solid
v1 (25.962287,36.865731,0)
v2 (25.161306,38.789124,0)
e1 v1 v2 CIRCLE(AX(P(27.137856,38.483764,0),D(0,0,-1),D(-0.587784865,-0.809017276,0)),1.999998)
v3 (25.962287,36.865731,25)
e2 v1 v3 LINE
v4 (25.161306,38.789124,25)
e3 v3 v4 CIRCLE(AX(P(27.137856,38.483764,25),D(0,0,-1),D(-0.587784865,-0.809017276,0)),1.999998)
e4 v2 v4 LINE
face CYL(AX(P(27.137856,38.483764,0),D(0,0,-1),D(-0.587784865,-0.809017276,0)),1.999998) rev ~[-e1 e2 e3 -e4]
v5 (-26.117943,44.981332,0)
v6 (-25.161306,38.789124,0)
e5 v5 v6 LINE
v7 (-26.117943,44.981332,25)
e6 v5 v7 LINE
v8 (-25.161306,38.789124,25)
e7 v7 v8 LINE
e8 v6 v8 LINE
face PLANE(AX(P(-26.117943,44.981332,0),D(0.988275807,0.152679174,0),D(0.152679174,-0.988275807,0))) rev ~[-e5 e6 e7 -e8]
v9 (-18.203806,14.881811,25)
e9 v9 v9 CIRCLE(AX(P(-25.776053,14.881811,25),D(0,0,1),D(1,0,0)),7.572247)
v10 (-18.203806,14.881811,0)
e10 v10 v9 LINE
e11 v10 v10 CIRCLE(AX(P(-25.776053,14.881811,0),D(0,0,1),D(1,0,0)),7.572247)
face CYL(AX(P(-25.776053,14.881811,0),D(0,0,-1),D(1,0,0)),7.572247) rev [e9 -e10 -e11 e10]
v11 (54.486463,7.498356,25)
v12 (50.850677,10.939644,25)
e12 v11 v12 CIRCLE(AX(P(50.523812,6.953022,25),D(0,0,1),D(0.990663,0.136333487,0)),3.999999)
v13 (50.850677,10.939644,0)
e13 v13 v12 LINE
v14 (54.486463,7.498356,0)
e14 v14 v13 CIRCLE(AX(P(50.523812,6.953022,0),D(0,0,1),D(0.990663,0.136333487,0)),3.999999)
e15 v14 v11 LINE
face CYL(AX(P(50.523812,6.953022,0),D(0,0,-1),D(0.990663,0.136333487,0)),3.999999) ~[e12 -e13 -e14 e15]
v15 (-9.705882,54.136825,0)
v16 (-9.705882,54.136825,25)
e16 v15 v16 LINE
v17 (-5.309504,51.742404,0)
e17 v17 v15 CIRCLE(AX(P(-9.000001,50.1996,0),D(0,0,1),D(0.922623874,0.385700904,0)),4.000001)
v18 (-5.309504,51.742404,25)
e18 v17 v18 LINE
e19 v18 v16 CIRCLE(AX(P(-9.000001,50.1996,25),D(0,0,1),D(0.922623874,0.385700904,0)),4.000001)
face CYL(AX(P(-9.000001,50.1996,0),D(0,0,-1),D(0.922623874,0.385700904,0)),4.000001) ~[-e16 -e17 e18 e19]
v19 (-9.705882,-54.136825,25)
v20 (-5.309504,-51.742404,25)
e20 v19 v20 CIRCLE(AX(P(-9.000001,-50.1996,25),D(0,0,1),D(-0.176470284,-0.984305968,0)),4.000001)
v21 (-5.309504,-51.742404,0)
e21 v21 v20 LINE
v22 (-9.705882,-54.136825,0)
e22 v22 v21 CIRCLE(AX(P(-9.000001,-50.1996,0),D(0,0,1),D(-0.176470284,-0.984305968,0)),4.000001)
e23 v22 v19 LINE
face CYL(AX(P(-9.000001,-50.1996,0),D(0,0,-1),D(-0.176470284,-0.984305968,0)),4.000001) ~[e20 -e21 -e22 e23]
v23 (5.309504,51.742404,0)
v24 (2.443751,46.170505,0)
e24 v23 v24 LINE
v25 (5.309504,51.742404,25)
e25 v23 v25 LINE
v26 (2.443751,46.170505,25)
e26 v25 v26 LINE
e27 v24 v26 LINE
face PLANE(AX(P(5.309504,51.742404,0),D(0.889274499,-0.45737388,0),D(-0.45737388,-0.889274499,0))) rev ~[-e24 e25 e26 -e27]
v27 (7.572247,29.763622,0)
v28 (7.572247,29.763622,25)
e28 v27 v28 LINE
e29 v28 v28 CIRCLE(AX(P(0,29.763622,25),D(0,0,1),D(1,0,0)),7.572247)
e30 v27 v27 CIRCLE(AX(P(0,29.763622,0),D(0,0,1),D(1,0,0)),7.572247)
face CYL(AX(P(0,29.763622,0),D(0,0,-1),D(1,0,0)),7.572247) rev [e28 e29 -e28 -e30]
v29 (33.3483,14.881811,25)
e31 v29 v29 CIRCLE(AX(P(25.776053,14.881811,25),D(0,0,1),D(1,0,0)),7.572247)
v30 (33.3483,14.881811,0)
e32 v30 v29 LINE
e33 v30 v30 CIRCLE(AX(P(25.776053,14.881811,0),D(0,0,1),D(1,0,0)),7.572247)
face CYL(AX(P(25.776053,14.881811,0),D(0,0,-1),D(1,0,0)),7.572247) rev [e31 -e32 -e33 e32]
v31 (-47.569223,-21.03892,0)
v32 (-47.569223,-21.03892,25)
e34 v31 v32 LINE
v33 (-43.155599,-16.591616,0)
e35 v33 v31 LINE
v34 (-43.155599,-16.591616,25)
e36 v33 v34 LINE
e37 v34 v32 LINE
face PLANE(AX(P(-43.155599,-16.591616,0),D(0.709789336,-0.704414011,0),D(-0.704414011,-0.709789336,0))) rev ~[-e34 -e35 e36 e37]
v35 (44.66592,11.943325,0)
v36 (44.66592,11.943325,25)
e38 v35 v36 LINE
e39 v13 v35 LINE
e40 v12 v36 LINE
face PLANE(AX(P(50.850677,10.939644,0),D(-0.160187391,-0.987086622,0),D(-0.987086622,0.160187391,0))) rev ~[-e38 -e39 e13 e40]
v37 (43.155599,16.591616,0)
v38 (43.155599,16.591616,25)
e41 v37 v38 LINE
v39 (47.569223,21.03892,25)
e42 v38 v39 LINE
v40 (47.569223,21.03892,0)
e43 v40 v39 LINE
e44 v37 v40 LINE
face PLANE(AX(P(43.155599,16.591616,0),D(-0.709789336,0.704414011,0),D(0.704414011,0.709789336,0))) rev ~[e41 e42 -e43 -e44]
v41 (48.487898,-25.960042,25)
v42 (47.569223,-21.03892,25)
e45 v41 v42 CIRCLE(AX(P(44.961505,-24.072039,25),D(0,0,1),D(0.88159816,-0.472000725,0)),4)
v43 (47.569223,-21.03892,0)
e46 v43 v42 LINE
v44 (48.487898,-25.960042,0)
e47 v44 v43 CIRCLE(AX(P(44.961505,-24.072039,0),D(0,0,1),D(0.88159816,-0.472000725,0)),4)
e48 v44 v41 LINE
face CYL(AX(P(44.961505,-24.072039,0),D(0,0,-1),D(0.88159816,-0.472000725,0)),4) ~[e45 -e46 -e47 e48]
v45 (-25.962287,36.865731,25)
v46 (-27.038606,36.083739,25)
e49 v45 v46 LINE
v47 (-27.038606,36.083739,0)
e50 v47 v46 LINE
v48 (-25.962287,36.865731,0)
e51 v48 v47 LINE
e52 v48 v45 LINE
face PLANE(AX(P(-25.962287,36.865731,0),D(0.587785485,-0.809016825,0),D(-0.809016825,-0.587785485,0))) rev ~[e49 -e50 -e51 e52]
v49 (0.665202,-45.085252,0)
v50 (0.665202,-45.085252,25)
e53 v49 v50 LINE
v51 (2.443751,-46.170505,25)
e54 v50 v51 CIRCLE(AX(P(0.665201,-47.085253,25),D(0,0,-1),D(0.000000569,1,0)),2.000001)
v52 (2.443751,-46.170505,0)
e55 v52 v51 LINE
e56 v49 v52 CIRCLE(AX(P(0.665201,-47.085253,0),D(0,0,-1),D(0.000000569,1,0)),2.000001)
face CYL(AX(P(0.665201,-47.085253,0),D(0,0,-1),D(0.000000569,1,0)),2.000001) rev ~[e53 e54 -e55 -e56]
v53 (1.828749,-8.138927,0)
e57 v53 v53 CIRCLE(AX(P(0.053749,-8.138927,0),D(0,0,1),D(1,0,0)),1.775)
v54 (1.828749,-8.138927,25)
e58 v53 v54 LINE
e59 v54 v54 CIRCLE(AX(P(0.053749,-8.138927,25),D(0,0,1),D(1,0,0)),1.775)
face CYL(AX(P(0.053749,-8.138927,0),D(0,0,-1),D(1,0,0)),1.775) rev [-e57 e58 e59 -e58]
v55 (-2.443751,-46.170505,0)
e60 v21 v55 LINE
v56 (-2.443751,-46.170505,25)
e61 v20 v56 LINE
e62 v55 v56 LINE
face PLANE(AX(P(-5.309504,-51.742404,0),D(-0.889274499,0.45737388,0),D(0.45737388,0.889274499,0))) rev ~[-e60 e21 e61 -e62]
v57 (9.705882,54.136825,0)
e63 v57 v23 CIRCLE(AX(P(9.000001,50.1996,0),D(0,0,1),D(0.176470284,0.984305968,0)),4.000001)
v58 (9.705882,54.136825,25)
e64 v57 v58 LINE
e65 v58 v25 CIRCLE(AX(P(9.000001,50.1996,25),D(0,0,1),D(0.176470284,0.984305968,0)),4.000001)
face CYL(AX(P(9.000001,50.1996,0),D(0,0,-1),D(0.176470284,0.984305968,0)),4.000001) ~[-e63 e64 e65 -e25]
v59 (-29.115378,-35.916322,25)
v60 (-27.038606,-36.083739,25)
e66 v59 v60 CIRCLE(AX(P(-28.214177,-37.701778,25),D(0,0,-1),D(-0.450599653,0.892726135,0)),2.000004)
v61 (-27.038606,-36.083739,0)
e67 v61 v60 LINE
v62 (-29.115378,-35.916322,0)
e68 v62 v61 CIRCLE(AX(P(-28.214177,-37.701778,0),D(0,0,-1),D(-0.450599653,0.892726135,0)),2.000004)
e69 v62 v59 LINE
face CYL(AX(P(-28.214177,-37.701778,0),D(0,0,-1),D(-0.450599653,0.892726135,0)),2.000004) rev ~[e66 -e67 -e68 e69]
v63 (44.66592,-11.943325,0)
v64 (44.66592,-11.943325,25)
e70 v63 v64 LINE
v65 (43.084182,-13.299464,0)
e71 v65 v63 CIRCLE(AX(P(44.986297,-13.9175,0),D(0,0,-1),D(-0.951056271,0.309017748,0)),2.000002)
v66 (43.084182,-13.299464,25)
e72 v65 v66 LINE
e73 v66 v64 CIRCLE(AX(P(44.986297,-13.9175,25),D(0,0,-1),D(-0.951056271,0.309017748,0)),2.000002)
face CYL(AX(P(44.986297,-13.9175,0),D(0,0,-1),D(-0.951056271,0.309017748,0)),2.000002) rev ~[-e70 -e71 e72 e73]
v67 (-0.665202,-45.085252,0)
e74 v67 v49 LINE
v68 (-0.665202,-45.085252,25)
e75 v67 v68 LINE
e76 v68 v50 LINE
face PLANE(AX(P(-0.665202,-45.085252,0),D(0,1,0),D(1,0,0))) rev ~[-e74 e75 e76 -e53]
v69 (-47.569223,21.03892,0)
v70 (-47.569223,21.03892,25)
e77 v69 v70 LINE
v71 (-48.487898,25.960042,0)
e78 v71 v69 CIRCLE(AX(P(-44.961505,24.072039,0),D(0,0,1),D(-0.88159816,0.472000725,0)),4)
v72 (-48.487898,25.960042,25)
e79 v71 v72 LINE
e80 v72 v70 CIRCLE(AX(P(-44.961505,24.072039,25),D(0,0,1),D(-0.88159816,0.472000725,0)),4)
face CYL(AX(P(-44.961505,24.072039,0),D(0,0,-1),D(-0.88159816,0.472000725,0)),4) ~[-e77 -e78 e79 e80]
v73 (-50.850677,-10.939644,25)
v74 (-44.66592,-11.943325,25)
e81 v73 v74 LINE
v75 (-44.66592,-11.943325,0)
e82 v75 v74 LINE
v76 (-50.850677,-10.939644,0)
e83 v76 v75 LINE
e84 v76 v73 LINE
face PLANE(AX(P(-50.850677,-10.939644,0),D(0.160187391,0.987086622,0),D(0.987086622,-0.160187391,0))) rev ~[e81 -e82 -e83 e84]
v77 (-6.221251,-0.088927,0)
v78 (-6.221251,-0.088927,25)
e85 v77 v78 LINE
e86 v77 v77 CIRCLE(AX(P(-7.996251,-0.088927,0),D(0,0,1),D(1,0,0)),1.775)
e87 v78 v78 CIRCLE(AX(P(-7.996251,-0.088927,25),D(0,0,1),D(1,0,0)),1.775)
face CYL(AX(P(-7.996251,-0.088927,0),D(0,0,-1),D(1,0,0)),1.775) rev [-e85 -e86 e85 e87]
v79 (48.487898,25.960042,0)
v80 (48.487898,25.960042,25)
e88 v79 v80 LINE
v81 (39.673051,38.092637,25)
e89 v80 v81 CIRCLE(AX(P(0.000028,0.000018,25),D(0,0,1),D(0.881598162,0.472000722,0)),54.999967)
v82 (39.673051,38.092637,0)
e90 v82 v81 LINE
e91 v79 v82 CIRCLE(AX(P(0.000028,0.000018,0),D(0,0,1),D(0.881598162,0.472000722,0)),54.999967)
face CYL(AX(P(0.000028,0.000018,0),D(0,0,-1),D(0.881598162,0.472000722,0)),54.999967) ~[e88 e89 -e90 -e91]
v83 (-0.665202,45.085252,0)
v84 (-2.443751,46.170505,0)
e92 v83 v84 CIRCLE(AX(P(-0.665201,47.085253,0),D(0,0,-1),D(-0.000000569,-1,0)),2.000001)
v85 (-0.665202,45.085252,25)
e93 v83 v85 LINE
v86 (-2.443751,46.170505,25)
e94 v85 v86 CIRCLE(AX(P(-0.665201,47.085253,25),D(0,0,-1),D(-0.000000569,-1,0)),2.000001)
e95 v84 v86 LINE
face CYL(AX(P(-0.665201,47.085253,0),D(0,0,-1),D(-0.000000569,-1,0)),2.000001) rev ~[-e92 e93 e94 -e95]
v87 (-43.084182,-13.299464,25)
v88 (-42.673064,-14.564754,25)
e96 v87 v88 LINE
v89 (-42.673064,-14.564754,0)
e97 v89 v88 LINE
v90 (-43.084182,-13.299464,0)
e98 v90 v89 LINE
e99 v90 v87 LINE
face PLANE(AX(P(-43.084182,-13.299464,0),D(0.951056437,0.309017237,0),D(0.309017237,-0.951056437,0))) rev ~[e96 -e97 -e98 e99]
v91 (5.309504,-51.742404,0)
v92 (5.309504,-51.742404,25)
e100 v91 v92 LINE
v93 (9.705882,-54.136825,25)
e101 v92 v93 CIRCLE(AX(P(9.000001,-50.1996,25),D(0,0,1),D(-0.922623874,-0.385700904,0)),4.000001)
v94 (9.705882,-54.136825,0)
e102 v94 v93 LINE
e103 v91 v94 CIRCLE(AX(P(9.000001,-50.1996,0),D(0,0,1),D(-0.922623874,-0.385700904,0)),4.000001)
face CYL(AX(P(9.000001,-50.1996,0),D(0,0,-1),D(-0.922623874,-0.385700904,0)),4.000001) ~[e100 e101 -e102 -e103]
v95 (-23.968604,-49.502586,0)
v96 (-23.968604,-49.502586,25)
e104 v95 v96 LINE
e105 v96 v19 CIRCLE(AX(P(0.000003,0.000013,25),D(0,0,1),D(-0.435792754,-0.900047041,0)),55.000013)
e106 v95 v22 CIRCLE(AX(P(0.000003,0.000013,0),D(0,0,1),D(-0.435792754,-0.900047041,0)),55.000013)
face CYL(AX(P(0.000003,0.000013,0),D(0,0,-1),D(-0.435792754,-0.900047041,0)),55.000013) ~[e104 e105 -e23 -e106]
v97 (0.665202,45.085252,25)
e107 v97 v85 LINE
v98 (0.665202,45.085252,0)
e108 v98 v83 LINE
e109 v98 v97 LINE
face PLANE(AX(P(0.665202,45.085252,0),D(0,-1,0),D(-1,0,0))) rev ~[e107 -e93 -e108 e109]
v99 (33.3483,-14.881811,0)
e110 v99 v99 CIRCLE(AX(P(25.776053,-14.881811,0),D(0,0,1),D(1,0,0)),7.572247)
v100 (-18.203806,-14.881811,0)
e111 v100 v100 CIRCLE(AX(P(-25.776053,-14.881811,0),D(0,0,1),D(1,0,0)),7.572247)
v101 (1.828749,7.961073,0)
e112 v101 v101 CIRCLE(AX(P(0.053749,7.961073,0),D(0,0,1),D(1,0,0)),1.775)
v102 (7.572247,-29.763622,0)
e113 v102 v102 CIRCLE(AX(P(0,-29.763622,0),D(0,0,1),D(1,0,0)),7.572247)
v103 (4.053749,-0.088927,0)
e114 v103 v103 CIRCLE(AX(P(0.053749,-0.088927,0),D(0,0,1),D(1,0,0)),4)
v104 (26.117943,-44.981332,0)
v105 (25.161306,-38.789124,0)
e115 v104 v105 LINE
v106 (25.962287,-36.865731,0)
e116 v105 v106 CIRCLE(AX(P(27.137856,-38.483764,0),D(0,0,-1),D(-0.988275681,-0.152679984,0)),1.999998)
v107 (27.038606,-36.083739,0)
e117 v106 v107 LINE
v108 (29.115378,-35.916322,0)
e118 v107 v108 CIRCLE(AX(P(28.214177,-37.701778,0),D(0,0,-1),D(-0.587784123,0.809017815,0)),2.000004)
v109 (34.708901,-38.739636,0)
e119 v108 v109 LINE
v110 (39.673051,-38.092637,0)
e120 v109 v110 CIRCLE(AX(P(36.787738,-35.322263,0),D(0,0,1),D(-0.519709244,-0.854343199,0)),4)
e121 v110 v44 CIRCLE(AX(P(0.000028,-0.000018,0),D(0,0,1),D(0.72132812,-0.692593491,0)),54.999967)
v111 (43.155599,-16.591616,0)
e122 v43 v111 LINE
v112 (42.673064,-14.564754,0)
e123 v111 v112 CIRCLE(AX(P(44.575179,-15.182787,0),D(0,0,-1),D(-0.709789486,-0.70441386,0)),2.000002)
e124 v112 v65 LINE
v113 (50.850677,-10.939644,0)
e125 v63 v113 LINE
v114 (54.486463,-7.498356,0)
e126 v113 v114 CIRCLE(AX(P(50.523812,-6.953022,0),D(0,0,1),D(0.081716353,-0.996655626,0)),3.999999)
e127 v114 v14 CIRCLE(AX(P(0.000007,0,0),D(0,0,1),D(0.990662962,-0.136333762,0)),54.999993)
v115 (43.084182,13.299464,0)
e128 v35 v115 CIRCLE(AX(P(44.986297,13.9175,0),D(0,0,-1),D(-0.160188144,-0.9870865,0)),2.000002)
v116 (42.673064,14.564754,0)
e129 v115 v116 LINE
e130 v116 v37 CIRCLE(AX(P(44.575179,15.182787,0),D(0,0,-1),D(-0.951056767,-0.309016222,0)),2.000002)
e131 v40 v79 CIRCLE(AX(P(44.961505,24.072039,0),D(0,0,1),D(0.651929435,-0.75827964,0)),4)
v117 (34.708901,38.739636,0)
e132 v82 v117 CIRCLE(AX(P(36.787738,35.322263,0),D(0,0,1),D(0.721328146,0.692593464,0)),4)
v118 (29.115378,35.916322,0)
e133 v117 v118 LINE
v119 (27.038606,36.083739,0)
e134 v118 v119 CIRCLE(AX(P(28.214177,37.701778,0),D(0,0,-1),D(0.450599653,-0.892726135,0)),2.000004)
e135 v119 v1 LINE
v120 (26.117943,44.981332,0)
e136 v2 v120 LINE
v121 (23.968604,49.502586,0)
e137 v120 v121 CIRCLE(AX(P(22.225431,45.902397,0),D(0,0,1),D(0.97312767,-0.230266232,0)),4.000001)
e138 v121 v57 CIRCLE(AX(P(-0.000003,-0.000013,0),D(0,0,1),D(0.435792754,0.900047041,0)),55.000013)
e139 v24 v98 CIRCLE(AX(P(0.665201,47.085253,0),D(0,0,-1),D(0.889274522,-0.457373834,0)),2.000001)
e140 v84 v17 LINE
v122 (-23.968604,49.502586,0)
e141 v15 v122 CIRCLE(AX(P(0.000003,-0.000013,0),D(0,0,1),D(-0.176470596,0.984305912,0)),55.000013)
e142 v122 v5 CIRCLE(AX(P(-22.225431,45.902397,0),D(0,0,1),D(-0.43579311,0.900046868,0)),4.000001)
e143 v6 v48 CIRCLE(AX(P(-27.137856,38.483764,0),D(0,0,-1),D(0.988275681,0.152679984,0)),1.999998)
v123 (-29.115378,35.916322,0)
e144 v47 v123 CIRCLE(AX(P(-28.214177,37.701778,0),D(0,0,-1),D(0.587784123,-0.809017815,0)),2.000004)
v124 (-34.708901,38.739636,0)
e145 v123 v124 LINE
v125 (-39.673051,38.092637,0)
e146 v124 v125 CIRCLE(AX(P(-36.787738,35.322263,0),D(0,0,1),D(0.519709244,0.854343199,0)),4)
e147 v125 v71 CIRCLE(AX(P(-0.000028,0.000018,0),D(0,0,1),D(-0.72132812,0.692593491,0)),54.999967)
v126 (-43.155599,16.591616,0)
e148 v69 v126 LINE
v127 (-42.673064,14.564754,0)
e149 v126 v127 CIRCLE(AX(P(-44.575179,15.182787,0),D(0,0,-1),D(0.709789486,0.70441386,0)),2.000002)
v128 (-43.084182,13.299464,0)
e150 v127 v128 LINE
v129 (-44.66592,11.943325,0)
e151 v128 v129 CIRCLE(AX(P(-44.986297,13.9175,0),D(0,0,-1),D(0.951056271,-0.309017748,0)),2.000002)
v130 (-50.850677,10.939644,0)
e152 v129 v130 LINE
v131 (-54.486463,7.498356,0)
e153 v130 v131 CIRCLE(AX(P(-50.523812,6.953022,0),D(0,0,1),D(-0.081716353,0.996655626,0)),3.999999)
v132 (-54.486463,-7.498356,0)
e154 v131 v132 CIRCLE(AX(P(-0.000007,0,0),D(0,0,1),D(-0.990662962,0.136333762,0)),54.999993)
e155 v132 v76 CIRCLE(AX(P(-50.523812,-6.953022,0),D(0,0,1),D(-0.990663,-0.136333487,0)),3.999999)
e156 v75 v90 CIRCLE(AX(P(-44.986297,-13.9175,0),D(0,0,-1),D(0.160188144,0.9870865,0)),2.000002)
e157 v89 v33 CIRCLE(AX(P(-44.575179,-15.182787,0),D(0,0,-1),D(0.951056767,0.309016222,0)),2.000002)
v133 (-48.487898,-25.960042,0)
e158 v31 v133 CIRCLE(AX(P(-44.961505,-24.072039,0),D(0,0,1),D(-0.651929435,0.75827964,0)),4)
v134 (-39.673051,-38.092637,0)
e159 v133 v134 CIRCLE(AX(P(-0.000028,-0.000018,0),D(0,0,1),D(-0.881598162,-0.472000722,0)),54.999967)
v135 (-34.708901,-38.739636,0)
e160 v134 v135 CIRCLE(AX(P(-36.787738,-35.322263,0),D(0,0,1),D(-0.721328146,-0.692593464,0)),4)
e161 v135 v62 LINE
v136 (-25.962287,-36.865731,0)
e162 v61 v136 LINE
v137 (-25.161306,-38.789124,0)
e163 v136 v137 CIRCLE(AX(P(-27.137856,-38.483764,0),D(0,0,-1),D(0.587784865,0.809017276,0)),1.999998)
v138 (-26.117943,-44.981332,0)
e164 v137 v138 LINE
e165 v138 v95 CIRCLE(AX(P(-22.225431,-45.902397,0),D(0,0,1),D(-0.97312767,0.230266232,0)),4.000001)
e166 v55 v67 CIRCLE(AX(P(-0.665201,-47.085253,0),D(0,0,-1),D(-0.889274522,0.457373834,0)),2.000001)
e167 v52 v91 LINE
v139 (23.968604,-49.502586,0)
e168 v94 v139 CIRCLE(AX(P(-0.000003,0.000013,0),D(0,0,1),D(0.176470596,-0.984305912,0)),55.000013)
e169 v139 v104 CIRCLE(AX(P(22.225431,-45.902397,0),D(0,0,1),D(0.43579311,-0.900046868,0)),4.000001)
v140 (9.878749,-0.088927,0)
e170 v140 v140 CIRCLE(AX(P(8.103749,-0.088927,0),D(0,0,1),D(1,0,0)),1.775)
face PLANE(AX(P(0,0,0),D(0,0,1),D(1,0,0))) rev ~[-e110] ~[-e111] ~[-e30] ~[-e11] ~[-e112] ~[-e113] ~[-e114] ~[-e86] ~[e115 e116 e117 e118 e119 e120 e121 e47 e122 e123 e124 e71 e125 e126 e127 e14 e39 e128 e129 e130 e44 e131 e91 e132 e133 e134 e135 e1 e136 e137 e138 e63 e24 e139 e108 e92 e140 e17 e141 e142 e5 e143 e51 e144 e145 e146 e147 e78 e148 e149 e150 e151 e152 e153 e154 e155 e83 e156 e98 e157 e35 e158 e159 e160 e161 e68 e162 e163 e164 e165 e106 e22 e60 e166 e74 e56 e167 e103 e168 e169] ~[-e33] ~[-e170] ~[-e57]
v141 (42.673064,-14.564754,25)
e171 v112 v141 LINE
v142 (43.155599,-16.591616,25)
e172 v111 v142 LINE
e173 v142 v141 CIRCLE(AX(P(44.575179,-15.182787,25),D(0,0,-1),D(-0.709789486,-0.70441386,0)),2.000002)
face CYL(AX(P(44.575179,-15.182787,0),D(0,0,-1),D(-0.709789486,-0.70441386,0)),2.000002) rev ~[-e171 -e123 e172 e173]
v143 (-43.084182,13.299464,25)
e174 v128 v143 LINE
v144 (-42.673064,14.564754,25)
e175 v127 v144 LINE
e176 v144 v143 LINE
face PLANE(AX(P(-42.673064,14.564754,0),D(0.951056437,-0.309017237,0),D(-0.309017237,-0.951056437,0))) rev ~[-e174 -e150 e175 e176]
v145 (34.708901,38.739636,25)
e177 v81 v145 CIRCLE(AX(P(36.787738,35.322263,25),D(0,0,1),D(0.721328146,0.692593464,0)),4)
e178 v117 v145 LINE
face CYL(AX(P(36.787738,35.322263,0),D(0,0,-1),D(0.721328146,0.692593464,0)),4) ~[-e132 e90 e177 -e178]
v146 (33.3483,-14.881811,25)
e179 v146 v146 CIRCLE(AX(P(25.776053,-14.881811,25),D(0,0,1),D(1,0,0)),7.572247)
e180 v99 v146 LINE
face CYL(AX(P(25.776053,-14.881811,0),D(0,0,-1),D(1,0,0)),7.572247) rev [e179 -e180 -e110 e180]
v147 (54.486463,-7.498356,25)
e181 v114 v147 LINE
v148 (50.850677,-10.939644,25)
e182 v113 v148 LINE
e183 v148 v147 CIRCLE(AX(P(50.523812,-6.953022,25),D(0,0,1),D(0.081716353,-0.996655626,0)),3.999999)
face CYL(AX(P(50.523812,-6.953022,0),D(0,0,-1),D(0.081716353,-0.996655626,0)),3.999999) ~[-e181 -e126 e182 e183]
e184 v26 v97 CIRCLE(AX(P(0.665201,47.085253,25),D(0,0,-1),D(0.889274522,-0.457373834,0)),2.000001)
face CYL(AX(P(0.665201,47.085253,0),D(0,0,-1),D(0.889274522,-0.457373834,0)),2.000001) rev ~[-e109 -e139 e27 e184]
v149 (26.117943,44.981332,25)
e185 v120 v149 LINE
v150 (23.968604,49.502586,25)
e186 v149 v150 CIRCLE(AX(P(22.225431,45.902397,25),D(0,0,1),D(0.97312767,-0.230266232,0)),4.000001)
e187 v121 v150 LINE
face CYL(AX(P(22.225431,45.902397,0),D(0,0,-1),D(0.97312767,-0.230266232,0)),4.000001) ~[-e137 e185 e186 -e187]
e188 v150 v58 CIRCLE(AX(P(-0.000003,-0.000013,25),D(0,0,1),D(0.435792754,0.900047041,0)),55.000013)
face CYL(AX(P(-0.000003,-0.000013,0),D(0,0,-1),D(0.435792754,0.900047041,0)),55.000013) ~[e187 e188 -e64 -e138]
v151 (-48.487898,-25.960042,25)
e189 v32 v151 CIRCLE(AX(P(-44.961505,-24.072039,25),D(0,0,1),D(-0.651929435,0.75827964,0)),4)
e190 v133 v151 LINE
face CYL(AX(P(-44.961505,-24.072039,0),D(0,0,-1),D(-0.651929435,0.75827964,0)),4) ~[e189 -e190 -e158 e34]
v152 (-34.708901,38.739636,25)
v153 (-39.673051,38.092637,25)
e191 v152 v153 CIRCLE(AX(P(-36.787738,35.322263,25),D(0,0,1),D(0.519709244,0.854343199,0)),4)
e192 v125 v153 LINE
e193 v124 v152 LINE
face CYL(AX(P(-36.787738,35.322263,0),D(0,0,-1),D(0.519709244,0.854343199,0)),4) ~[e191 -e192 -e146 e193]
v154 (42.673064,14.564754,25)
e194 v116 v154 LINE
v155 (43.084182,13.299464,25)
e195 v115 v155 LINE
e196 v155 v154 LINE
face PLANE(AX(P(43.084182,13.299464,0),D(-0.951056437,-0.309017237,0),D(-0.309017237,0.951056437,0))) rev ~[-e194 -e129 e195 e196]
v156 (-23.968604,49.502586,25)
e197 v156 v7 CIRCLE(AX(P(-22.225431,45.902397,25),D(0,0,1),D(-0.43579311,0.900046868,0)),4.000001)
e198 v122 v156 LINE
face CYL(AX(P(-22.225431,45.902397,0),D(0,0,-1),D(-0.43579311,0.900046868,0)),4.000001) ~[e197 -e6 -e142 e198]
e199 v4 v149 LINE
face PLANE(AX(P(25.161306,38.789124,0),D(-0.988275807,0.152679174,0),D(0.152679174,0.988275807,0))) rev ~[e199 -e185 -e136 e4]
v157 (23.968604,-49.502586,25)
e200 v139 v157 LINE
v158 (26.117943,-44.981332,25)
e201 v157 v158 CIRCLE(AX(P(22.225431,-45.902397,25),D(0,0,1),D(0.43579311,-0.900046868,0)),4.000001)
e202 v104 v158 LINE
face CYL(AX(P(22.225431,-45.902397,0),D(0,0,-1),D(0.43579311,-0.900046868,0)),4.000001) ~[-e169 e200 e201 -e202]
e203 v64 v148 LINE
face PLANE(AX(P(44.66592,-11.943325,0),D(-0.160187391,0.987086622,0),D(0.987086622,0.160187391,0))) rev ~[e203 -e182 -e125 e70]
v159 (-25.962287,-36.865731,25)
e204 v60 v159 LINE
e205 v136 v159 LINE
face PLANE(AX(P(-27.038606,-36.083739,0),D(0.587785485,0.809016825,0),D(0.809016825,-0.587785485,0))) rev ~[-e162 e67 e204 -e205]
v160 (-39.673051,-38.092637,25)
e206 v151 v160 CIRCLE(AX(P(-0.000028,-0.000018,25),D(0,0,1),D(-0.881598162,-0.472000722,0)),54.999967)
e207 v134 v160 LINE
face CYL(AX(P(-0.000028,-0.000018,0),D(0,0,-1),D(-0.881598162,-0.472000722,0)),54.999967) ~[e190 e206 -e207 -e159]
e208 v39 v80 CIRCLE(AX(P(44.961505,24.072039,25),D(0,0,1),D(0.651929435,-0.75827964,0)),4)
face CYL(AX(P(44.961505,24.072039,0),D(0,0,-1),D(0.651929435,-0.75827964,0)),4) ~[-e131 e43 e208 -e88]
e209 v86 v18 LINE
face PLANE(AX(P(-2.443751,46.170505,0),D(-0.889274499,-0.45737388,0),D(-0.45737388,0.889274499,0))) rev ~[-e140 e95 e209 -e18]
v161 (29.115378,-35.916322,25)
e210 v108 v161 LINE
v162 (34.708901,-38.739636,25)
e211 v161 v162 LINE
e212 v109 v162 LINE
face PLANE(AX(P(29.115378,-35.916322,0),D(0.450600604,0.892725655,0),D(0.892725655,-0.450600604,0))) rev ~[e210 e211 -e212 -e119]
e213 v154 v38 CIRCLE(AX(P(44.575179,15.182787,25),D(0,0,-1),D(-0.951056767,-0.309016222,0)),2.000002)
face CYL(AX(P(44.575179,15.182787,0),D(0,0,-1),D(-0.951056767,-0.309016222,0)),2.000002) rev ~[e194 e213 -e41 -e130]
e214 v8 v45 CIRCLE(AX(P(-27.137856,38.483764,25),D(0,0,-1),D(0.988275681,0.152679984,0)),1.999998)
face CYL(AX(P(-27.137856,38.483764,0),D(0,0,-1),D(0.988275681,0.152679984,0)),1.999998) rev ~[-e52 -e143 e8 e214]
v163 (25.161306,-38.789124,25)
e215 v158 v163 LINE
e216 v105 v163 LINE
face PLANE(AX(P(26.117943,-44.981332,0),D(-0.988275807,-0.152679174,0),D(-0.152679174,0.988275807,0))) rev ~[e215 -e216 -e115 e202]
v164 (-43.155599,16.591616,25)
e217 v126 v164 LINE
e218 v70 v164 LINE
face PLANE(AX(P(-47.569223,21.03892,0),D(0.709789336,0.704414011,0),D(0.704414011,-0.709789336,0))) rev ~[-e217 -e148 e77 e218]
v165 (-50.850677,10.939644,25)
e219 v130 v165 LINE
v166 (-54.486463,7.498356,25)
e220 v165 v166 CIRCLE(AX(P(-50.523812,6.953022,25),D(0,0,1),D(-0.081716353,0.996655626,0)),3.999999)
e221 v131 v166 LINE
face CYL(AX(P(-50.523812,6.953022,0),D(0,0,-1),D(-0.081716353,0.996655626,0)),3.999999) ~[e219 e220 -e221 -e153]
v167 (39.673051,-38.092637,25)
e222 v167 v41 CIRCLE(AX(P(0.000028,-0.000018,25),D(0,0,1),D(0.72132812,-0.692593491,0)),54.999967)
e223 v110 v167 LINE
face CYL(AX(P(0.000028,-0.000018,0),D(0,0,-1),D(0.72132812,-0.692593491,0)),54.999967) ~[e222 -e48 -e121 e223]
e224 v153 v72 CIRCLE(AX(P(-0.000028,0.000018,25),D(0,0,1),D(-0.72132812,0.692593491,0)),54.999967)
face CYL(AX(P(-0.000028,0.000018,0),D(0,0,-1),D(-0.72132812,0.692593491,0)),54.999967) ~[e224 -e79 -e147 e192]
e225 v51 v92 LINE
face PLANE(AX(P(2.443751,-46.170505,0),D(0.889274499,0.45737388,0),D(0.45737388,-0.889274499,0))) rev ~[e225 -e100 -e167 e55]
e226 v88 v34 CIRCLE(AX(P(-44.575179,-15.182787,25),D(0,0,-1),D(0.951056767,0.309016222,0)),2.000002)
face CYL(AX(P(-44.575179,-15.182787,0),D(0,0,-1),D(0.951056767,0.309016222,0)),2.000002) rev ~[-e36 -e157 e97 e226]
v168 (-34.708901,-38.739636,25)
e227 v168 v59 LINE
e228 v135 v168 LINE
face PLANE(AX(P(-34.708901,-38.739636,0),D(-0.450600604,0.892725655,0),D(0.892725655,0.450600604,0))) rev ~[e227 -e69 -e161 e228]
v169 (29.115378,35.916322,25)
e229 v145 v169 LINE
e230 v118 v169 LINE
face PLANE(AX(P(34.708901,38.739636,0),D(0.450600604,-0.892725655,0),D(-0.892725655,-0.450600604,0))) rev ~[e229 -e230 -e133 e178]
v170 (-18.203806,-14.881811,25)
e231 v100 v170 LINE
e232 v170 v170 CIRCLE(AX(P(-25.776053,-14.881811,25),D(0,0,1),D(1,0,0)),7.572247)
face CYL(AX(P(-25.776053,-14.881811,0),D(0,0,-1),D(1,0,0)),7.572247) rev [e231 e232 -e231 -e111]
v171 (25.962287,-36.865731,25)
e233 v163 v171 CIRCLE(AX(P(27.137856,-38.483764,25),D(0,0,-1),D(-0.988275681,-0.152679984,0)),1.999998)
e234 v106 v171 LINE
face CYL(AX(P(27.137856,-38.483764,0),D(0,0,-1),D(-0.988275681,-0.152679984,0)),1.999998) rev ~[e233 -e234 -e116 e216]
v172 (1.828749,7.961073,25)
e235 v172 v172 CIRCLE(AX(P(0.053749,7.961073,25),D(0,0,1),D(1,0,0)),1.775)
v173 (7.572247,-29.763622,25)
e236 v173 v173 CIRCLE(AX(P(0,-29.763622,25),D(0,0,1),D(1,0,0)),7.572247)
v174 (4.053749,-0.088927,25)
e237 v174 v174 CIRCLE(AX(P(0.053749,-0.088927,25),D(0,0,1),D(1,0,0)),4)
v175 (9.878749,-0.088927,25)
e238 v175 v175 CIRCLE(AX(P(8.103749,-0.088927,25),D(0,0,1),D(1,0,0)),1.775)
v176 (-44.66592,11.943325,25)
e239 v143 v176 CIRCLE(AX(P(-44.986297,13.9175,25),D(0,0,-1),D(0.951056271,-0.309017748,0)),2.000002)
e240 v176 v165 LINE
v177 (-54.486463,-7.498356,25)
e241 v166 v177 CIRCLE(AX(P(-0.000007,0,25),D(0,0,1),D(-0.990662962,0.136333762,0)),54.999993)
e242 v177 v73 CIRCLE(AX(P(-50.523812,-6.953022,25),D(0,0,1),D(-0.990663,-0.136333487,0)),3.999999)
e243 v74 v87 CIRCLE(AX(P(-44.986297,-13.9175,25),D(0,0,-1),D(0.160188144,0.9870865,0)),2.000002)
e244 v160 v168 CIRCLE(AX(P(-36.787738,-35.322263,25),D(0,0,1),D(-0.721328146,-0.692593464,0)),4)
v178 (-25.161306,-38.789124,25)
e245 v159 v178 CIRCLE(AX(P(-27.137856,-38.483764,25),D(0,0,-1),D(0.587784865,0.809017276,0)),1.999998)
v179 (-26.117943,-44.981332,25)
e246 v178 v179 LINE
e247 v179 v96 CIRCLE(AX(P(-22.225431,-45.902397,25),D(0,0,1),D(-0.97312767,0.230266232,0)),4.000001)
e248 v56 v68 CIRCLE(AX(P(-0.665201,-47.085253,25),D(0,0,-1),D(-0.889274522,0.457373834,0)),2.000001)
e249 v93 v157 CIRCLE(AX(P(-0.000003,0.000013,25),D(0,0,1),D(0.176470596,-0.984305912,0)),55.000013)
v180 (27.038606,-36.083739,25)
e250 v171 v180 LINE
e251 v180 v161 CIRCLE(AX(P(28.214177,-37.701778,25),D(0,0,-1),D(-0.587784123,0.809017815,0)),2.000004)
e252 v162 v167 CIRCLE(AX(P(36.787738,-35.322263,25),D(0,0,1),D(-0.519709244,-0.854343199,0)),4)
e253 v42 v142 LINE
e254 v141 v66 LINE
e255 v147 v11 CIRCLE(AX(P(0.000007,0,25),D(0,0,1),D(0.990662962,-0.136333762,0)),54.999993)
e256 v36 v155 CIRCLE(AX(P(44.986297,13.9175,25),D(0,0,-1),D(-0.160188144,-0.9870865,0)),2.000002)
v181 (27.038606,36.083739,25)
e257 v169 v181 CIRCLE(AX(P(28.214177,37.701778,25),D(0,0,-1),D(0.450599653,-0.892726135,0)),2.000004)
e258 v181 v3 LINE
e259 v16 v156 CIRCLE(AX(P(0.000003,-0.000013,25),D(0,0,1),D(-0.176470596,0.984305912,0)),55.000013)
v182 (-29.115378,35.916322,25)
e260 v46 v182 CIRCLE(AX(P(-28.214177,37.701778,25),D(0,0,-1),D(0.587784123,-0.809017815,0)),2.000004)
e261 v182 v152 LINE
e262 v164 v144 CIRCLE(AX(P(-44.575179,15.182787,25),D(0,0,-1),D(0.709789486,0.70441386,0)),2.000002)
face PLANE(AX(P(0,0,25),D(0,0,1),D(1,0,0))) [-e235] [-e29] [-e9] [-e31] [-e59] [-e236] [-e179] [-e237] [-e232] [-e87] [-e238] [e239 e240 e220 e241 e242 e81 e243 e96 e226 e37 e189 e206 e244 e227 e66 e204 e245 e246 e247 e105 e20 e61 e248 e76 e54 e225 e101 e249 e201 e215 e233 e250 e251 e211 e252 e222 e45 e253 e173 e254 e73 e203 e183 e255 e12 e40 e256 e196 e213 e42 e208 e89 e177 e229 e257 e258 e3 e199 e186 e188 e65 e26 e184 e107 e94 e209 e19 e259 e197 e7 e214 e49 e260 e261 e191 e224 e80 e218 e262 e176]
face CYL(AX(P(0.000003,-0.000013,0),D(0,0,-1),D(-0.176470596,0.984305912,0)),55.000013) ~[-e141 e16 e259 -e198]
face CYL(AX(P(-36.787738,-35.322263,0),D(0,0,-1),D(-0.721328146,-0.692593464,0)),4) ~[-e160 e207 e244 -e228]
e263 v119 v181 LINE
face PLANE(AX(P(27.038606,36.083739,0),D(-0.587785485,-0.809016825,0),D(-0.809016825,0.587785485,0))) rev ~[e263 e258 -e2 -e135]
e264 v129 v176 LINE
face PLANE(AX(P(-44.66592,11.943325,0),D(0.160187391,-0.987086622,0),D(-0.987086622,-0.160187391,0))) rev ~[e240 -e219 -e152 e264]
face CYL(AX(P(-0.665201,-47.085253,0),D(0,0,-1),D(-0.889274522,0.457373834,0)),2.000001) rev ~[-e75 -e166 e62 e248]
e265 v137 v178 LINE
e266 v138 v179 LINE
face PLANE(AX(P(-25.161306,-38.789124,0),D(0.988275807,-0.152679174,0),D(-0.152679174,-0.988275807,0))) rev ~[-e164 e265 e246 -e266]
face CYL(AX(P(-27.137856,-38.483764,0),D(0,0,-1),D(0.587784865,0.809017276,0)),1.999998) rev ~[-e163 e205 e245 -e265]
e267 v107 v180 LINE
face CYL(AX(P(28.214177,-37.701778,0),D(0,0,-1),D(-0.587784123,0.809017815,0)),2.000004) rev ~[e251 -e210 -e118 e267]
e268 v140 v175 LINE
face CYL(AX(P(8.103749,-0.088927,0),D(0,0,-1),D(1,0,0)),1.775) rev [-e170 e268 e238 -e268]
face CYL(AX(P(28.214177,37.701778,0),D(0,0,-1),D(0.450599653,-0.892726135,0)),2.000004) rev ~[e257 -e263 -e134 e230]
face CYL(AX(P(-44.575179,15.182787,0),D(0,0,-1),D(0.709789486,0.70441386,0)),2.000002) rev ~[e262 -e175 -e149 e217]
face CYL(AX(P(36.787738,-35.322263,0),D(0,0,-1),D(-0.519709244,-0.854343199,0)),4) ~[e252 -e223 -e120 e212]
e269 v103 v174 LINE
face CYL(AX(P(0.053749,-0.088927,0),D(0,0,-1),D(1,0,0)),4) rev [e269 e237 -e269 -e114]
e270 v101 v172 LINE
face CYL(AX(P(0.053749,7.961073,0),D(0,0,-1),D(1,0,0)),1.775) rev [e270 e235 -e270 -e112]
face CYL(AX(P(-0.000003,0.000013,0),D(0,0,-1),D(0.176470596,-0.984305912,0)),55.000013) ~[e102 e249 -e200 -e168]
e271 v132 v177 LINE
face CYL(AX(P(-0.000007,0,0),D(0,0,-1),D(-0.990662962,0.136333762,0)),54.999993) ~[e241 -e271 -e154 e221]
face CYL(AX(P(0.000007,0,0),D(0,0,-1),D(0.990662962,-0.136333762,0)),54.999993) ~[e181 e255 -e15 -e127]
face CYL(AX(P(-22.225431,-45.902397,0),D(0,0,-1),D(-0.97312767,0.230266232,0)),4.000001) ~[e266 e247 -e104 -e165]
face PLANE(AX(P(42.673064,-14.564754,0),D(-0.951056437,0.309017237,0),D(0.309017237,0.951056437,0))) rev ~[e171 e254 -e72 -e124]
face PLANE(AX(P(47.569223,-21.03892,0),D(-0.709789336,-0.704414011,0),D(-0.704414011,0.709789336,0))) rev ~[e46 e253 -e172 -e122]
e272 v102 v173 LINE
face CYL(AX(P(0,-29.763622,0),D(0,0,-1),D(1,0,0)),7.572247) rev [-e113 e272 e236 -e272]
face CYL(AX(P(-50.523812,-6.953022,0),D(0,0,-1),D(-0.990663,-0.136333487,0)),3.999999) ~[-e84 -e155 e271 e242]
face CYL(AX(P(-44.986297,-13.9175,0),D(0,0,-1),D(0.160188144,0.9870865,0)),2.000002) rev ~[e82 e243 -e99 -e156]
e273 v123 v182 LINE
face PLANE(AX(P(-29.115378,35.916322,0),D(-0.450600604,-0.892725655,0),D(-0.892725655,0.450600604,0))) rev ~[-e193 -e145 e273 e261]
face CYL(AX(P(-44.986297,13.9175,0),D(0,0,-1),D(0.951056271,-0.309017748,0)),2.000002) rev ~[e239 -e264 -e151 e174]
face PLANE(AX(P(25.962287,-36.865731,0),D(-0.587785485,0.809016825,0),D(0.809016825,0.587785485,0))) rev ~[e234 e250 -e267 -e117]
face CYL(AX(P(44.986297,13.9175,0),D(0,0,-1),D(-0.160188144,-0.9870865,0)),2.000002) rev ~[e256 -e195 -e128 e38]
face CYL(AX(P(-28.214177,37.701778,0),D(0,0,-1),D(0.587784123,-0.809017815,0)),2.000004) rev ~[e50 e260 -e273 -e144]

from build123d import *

# Parameters (mm, degrees)
F0_R     = 7.572247
F0_R_2   = 1.775
F0_R_3   = 4
F1_DEPTH = 25


with BuildPart() as f1:
    # F0 (on Top) → F1 (new body)
    with BuildSketch(Plane.XY):
        with BuildLine():
            ThreePointArc((-5.309504, 51.742404), (-7.086811, 53.712393), (-9.705882, 54.136825))
            ThreePointArc((-9.705882, 54.136825), (-16.995935, 52.308108), (-23.968604, 49.502586))
            ThreePointArc((-23.968604, 49.502586), (-25.838002, 47.619762), (-26.117943, 44.981332))
            Line((-26.117943, 44.981332), (-25.161306, 38.789124))
            ThreePointArc((-25.161306, 38.789124), (-25.291556, 37.714888), (-25.962287, 36.865731))
            Line((-25.962287, 36.865731), (-27.038606, 36.083739))
            ThreePointArc((-27.038606, 36.083739), (-28.053469, 35.708241), (-29.115378, 35.916322))
            Line((-29.115378, 35.916322), (-34.708901, 38.739636))
            ThreePointArc((-34.708901, 38.739636), (-37.304703, 39.288716), (-39.673051, 38.092637))
            ThreePointArc((-39.673051, 38.092637), (-44.495935, 32.328189), (-48.487898, 25.960042))
            ThreePointArc((-48.487898, 25.960042), (-48.893577, 23.338), (-47.569223, 21.03892))
            Line((-47.569223, 21.03892), (-43.155599, 16.591616))
            ThreePointArc((-43.155599, 16.591616), (-42.629554, 15.645982), (-42.673064, 14.564754))
            Line((-42.673064, 14.564754), (-43.084182, 13.299464))
            ThreePointArc((-43.084182, 13.299464), (-43.684511, 12.399158), (-44.66592, 11.943325))
            Line((-44.66592, 11.943325), (-50.850677, 10.939644))
            ThreePointArc((-50.850677, 10.939644), (-53.273467, 9.858085), (-54.486463, 7.498356))
            ThreePointArc((-54.486463, 7.498356), (-55, 0), (-54.486463, -7.498356))
            ThreePointArc((-54.486463, -7.498356), (-53.273467, -9.858085), (-50.850677, -10.939644))
            Line((-50.850677, -10.939644), (-44.66592, -11.943325))
            ThreePointArc((-44.66592, -11.943325), (-43.684511, -12.399158), (-43.084182, -13.299464))
            Line((-43.084182, -13.299464), (-42.673064, -14.564754))
            ThreePointArc((-42.673064, -14.564754), (-42.629554, -15.645982), (-43.155599, -16.591616))
            Line((-43.155599, -16.591616), (-47.569223, -21.03892))
            ThreePointArc((-47.569223, -21.03892), (-48.893577, -23.338), (-48.487898, -25.960042))
            ThreePointArc((-48.487898, -25.960042), (-44.495935, -32.328189), (-39.673051, -38.092637))
            ThreePointArc((-39.673051, -38.092637), (-37.304703, -39.288716), (-34.708901, -38.739636))
            Line((-34.708901, -38.739636), (-29.115378, -35.916322))
            ThreePointArc((-29.115378, -35.916322), (-28.053469, -35.708241), (-27.038606, -36.083739))
            Line((-27.038606, -36.083739), (-25.962287, -36.865731))
            ThreePointArc((-25.962287, -36.865731), (-25.291556, -37.714888), (-25.161306, -38.789124))
            Line((-25.161306, -38.789124), (-26.117943, -44.981332))
            ThreePointArc((-26.117943, -44.981332), (-25.838002, -47.619762), (-23.968604, -49.502586))
            ThreePointArc((-23.968604, -49.502586), (-16.995935, -52.308108), (-9.705882, -54.136825))
            ThreePointArc((-9.705882, -54.136825), (-7.086811, -53.712393), (-5.309504, -51.742404))
            Line((-5.309504, -51.742404), (-2.443751, -46.170505))
            ThreePointArc((-2.443751, -46.170505), (-1.706956, -45.377989), (-0.665202, -45.085252))
            Line((-0.665202, -45.085252), (0.665202, -45.085252))
            ThreePointArc((0.665202, -45.085252), (1.706956, -45.377989), (2.443751, -46.170505))
            Line((2.443751, -46.170505), (5.309504, -51.742404))
            ThreePointArc((5.309504, -51.742404), (7.086811, -53.712393), (9.705882, -54.136825))
            ThreePointArc((9.705882, -54.136825), (16.995935, -52.308108), (23.968604, -49.502586))
            ThreePointArc((23.968604, -49.502586), (25.838002, -47.619762), (26.117943, -44.981332))
            Line((26.117943, -44.981332), (25.161306, -38.789124))
            ThreePointArc((25.161306, -38.789124), (25.291556, -37.714888), (25.962287, -36.865731))
            Line((25.962287, -36.865731), (27.038606, -36.083739))
            ThreePointArc((27.038606, -36.083739), (28.053469, -35.708241), (29.115378, -35.916322))
            Line((29.115378, -35.916322), (34.708901, -38.739636))
            ThreePointArc((34.708901, -38.739636), (37.304703, -39.288716), (39.673051, -38.092637))
            ThreePointArc((39.673051, -38.092637), (44.495935, -32.328189), (48.487898, -25.960042))
            ThreePointArc((48.487898, -25.960042), (48.893577, -23.338), (47.569223, -21.03892))
            Line((47.569223, -21.03892), (43.155599, -16.591616))
            ThreePointArc((43.155599, -16.591616), (42.629554, -15.645982), (42.673064, -14.564754))
            Line((42.673064, -14.564754), (43.084182, -13.299464))
            ThreePointArc((43.084182, -13.299464), (43.684511, -12.399158), (44.66592, -11.943325))
            Line((44.66592, -11.943325), (50.850677, -10.939644))
            ThreePointArc((50.850677, -10.939644), (53.273467, -9.858085), (54.486463, -7.498356))
            ThreePointArc((54.486463, -7.498356), (55, 0), (54.486463, 7.498356))
            ThreePointArc((54.486463, 7.498356), (53.273467, 9.858085), (50.850677, 10.939644))
            Line((50.850677, 10.939644), (44.66592, 11.943325))
            ThreePointArc((44.66592, 11.943325), (43.684511, 12.399158), (43.084182, 13.299464))
            Line((43.084182, 13.299464), (42.673064, 14.564754))
            ThreePointArc((42.673064, 14.564754), (42.629554, 15.645982), (43.155599, 16.591616))
            Line((43.155599, 16.591616), (47.569223, 21.03892))
            ThreePointArc((47.569223, 21.03892), (48.893577, 23.338), (48.487898, 25.960042))
            ThreePointArc((48.487898, 25.960042), (44.495935, 32.328189), (39.673051, 38.092637))
            ThreePointArc((39.673051, 38.092637), (37.304703, 39.288716), (34.708901, 38.739636))
            Line((34.708901, 38.739636), (29.115378, 35.916322))
            ThreePointArc((29.115378, 35.916322), (28.053469, 35.708241), (27.038606, 36.083739))
            Line((27.038606, 36.083739), (25.962287, 36.865731))
            ThreePointArc((25.962287, 36.865731), (25.291556, 37.714888), (25.161306, 38.789124))
            Line((25.161306, 38.789124), (26.117943, 44.981332))
            ThreePointArc((26.117943, 44.981332), (25.838002, 47.619762), (23.968604, 49.502586))
            ThreePointArc((23.968604, 49.502586), (16.995935, 52.308108), (9.705882, 54.136825))
            ThreePointArc((9.705882, 54.136825), (7.086811, 53.712393), (5.309504, 51.742404))
            Line((5.309504, 51.742404), (2.443751, 46.170505))
            ThreePointArc((2.443751, 46.170505), (1.706956, 45.377989), (0.665202, 45.085252))
            Line((0.665202, 45.085252), (-0.665202, 45.085252))
            ThreePointArc((-0.665202, 45.085252), (-1.706956, 45.377989), (-2.443751, 46.170505))
            Line((-2.443751, 46.170505), (-5.309504, 51.742404))
        make_face()
        with Locations((-25.776053, -14.881811)):
            Circle(F0_R, mode=Mode.SUBTRACT)
        with Locations((-7.996251, -0.088927)):
            Circle(F0_R_2, mode=Mode.SUBTRACT)
        with Locations((0, -29.763622)):
            Circle(F0_R, mode=Mode.SUBTRACT)
        with Locations((25.776053, -14.881811)):
            Circle(F0_R, mode=Mode.SUBTRACT)
        with Locations((0.053749, -8.138927)):
            Circle(F0_R_2, mode=Mode.SUBTRACT)
        with Locations((0.053749, -0.088927)):
            Circle(F0_R_3, mode=Mode.SUBTRACT)
        with Locations((8.103749, -0.088927)):
            Circle(F0_R_2, mode=Mode.SUBTRACT)
        with Locations((-25.776053, 14.881811)):
            Circle(F0_R, mode=Mode.SUBTRACT)
        with Locations((0.053749, 7.961073)):
            Circle(F0_R_2, mode=Mode.SUBTRACT)
        with Locations((25.776053, 14.881811)):
            Circle(F0_R, mode=Mode.SUBTRACT)
        with Locations((0, 29.763622)):
            Circle(F0_R, mode=Mode.SUBTRACT)
    extrude(amount=F1_DEPTH)


solid = f1.part
